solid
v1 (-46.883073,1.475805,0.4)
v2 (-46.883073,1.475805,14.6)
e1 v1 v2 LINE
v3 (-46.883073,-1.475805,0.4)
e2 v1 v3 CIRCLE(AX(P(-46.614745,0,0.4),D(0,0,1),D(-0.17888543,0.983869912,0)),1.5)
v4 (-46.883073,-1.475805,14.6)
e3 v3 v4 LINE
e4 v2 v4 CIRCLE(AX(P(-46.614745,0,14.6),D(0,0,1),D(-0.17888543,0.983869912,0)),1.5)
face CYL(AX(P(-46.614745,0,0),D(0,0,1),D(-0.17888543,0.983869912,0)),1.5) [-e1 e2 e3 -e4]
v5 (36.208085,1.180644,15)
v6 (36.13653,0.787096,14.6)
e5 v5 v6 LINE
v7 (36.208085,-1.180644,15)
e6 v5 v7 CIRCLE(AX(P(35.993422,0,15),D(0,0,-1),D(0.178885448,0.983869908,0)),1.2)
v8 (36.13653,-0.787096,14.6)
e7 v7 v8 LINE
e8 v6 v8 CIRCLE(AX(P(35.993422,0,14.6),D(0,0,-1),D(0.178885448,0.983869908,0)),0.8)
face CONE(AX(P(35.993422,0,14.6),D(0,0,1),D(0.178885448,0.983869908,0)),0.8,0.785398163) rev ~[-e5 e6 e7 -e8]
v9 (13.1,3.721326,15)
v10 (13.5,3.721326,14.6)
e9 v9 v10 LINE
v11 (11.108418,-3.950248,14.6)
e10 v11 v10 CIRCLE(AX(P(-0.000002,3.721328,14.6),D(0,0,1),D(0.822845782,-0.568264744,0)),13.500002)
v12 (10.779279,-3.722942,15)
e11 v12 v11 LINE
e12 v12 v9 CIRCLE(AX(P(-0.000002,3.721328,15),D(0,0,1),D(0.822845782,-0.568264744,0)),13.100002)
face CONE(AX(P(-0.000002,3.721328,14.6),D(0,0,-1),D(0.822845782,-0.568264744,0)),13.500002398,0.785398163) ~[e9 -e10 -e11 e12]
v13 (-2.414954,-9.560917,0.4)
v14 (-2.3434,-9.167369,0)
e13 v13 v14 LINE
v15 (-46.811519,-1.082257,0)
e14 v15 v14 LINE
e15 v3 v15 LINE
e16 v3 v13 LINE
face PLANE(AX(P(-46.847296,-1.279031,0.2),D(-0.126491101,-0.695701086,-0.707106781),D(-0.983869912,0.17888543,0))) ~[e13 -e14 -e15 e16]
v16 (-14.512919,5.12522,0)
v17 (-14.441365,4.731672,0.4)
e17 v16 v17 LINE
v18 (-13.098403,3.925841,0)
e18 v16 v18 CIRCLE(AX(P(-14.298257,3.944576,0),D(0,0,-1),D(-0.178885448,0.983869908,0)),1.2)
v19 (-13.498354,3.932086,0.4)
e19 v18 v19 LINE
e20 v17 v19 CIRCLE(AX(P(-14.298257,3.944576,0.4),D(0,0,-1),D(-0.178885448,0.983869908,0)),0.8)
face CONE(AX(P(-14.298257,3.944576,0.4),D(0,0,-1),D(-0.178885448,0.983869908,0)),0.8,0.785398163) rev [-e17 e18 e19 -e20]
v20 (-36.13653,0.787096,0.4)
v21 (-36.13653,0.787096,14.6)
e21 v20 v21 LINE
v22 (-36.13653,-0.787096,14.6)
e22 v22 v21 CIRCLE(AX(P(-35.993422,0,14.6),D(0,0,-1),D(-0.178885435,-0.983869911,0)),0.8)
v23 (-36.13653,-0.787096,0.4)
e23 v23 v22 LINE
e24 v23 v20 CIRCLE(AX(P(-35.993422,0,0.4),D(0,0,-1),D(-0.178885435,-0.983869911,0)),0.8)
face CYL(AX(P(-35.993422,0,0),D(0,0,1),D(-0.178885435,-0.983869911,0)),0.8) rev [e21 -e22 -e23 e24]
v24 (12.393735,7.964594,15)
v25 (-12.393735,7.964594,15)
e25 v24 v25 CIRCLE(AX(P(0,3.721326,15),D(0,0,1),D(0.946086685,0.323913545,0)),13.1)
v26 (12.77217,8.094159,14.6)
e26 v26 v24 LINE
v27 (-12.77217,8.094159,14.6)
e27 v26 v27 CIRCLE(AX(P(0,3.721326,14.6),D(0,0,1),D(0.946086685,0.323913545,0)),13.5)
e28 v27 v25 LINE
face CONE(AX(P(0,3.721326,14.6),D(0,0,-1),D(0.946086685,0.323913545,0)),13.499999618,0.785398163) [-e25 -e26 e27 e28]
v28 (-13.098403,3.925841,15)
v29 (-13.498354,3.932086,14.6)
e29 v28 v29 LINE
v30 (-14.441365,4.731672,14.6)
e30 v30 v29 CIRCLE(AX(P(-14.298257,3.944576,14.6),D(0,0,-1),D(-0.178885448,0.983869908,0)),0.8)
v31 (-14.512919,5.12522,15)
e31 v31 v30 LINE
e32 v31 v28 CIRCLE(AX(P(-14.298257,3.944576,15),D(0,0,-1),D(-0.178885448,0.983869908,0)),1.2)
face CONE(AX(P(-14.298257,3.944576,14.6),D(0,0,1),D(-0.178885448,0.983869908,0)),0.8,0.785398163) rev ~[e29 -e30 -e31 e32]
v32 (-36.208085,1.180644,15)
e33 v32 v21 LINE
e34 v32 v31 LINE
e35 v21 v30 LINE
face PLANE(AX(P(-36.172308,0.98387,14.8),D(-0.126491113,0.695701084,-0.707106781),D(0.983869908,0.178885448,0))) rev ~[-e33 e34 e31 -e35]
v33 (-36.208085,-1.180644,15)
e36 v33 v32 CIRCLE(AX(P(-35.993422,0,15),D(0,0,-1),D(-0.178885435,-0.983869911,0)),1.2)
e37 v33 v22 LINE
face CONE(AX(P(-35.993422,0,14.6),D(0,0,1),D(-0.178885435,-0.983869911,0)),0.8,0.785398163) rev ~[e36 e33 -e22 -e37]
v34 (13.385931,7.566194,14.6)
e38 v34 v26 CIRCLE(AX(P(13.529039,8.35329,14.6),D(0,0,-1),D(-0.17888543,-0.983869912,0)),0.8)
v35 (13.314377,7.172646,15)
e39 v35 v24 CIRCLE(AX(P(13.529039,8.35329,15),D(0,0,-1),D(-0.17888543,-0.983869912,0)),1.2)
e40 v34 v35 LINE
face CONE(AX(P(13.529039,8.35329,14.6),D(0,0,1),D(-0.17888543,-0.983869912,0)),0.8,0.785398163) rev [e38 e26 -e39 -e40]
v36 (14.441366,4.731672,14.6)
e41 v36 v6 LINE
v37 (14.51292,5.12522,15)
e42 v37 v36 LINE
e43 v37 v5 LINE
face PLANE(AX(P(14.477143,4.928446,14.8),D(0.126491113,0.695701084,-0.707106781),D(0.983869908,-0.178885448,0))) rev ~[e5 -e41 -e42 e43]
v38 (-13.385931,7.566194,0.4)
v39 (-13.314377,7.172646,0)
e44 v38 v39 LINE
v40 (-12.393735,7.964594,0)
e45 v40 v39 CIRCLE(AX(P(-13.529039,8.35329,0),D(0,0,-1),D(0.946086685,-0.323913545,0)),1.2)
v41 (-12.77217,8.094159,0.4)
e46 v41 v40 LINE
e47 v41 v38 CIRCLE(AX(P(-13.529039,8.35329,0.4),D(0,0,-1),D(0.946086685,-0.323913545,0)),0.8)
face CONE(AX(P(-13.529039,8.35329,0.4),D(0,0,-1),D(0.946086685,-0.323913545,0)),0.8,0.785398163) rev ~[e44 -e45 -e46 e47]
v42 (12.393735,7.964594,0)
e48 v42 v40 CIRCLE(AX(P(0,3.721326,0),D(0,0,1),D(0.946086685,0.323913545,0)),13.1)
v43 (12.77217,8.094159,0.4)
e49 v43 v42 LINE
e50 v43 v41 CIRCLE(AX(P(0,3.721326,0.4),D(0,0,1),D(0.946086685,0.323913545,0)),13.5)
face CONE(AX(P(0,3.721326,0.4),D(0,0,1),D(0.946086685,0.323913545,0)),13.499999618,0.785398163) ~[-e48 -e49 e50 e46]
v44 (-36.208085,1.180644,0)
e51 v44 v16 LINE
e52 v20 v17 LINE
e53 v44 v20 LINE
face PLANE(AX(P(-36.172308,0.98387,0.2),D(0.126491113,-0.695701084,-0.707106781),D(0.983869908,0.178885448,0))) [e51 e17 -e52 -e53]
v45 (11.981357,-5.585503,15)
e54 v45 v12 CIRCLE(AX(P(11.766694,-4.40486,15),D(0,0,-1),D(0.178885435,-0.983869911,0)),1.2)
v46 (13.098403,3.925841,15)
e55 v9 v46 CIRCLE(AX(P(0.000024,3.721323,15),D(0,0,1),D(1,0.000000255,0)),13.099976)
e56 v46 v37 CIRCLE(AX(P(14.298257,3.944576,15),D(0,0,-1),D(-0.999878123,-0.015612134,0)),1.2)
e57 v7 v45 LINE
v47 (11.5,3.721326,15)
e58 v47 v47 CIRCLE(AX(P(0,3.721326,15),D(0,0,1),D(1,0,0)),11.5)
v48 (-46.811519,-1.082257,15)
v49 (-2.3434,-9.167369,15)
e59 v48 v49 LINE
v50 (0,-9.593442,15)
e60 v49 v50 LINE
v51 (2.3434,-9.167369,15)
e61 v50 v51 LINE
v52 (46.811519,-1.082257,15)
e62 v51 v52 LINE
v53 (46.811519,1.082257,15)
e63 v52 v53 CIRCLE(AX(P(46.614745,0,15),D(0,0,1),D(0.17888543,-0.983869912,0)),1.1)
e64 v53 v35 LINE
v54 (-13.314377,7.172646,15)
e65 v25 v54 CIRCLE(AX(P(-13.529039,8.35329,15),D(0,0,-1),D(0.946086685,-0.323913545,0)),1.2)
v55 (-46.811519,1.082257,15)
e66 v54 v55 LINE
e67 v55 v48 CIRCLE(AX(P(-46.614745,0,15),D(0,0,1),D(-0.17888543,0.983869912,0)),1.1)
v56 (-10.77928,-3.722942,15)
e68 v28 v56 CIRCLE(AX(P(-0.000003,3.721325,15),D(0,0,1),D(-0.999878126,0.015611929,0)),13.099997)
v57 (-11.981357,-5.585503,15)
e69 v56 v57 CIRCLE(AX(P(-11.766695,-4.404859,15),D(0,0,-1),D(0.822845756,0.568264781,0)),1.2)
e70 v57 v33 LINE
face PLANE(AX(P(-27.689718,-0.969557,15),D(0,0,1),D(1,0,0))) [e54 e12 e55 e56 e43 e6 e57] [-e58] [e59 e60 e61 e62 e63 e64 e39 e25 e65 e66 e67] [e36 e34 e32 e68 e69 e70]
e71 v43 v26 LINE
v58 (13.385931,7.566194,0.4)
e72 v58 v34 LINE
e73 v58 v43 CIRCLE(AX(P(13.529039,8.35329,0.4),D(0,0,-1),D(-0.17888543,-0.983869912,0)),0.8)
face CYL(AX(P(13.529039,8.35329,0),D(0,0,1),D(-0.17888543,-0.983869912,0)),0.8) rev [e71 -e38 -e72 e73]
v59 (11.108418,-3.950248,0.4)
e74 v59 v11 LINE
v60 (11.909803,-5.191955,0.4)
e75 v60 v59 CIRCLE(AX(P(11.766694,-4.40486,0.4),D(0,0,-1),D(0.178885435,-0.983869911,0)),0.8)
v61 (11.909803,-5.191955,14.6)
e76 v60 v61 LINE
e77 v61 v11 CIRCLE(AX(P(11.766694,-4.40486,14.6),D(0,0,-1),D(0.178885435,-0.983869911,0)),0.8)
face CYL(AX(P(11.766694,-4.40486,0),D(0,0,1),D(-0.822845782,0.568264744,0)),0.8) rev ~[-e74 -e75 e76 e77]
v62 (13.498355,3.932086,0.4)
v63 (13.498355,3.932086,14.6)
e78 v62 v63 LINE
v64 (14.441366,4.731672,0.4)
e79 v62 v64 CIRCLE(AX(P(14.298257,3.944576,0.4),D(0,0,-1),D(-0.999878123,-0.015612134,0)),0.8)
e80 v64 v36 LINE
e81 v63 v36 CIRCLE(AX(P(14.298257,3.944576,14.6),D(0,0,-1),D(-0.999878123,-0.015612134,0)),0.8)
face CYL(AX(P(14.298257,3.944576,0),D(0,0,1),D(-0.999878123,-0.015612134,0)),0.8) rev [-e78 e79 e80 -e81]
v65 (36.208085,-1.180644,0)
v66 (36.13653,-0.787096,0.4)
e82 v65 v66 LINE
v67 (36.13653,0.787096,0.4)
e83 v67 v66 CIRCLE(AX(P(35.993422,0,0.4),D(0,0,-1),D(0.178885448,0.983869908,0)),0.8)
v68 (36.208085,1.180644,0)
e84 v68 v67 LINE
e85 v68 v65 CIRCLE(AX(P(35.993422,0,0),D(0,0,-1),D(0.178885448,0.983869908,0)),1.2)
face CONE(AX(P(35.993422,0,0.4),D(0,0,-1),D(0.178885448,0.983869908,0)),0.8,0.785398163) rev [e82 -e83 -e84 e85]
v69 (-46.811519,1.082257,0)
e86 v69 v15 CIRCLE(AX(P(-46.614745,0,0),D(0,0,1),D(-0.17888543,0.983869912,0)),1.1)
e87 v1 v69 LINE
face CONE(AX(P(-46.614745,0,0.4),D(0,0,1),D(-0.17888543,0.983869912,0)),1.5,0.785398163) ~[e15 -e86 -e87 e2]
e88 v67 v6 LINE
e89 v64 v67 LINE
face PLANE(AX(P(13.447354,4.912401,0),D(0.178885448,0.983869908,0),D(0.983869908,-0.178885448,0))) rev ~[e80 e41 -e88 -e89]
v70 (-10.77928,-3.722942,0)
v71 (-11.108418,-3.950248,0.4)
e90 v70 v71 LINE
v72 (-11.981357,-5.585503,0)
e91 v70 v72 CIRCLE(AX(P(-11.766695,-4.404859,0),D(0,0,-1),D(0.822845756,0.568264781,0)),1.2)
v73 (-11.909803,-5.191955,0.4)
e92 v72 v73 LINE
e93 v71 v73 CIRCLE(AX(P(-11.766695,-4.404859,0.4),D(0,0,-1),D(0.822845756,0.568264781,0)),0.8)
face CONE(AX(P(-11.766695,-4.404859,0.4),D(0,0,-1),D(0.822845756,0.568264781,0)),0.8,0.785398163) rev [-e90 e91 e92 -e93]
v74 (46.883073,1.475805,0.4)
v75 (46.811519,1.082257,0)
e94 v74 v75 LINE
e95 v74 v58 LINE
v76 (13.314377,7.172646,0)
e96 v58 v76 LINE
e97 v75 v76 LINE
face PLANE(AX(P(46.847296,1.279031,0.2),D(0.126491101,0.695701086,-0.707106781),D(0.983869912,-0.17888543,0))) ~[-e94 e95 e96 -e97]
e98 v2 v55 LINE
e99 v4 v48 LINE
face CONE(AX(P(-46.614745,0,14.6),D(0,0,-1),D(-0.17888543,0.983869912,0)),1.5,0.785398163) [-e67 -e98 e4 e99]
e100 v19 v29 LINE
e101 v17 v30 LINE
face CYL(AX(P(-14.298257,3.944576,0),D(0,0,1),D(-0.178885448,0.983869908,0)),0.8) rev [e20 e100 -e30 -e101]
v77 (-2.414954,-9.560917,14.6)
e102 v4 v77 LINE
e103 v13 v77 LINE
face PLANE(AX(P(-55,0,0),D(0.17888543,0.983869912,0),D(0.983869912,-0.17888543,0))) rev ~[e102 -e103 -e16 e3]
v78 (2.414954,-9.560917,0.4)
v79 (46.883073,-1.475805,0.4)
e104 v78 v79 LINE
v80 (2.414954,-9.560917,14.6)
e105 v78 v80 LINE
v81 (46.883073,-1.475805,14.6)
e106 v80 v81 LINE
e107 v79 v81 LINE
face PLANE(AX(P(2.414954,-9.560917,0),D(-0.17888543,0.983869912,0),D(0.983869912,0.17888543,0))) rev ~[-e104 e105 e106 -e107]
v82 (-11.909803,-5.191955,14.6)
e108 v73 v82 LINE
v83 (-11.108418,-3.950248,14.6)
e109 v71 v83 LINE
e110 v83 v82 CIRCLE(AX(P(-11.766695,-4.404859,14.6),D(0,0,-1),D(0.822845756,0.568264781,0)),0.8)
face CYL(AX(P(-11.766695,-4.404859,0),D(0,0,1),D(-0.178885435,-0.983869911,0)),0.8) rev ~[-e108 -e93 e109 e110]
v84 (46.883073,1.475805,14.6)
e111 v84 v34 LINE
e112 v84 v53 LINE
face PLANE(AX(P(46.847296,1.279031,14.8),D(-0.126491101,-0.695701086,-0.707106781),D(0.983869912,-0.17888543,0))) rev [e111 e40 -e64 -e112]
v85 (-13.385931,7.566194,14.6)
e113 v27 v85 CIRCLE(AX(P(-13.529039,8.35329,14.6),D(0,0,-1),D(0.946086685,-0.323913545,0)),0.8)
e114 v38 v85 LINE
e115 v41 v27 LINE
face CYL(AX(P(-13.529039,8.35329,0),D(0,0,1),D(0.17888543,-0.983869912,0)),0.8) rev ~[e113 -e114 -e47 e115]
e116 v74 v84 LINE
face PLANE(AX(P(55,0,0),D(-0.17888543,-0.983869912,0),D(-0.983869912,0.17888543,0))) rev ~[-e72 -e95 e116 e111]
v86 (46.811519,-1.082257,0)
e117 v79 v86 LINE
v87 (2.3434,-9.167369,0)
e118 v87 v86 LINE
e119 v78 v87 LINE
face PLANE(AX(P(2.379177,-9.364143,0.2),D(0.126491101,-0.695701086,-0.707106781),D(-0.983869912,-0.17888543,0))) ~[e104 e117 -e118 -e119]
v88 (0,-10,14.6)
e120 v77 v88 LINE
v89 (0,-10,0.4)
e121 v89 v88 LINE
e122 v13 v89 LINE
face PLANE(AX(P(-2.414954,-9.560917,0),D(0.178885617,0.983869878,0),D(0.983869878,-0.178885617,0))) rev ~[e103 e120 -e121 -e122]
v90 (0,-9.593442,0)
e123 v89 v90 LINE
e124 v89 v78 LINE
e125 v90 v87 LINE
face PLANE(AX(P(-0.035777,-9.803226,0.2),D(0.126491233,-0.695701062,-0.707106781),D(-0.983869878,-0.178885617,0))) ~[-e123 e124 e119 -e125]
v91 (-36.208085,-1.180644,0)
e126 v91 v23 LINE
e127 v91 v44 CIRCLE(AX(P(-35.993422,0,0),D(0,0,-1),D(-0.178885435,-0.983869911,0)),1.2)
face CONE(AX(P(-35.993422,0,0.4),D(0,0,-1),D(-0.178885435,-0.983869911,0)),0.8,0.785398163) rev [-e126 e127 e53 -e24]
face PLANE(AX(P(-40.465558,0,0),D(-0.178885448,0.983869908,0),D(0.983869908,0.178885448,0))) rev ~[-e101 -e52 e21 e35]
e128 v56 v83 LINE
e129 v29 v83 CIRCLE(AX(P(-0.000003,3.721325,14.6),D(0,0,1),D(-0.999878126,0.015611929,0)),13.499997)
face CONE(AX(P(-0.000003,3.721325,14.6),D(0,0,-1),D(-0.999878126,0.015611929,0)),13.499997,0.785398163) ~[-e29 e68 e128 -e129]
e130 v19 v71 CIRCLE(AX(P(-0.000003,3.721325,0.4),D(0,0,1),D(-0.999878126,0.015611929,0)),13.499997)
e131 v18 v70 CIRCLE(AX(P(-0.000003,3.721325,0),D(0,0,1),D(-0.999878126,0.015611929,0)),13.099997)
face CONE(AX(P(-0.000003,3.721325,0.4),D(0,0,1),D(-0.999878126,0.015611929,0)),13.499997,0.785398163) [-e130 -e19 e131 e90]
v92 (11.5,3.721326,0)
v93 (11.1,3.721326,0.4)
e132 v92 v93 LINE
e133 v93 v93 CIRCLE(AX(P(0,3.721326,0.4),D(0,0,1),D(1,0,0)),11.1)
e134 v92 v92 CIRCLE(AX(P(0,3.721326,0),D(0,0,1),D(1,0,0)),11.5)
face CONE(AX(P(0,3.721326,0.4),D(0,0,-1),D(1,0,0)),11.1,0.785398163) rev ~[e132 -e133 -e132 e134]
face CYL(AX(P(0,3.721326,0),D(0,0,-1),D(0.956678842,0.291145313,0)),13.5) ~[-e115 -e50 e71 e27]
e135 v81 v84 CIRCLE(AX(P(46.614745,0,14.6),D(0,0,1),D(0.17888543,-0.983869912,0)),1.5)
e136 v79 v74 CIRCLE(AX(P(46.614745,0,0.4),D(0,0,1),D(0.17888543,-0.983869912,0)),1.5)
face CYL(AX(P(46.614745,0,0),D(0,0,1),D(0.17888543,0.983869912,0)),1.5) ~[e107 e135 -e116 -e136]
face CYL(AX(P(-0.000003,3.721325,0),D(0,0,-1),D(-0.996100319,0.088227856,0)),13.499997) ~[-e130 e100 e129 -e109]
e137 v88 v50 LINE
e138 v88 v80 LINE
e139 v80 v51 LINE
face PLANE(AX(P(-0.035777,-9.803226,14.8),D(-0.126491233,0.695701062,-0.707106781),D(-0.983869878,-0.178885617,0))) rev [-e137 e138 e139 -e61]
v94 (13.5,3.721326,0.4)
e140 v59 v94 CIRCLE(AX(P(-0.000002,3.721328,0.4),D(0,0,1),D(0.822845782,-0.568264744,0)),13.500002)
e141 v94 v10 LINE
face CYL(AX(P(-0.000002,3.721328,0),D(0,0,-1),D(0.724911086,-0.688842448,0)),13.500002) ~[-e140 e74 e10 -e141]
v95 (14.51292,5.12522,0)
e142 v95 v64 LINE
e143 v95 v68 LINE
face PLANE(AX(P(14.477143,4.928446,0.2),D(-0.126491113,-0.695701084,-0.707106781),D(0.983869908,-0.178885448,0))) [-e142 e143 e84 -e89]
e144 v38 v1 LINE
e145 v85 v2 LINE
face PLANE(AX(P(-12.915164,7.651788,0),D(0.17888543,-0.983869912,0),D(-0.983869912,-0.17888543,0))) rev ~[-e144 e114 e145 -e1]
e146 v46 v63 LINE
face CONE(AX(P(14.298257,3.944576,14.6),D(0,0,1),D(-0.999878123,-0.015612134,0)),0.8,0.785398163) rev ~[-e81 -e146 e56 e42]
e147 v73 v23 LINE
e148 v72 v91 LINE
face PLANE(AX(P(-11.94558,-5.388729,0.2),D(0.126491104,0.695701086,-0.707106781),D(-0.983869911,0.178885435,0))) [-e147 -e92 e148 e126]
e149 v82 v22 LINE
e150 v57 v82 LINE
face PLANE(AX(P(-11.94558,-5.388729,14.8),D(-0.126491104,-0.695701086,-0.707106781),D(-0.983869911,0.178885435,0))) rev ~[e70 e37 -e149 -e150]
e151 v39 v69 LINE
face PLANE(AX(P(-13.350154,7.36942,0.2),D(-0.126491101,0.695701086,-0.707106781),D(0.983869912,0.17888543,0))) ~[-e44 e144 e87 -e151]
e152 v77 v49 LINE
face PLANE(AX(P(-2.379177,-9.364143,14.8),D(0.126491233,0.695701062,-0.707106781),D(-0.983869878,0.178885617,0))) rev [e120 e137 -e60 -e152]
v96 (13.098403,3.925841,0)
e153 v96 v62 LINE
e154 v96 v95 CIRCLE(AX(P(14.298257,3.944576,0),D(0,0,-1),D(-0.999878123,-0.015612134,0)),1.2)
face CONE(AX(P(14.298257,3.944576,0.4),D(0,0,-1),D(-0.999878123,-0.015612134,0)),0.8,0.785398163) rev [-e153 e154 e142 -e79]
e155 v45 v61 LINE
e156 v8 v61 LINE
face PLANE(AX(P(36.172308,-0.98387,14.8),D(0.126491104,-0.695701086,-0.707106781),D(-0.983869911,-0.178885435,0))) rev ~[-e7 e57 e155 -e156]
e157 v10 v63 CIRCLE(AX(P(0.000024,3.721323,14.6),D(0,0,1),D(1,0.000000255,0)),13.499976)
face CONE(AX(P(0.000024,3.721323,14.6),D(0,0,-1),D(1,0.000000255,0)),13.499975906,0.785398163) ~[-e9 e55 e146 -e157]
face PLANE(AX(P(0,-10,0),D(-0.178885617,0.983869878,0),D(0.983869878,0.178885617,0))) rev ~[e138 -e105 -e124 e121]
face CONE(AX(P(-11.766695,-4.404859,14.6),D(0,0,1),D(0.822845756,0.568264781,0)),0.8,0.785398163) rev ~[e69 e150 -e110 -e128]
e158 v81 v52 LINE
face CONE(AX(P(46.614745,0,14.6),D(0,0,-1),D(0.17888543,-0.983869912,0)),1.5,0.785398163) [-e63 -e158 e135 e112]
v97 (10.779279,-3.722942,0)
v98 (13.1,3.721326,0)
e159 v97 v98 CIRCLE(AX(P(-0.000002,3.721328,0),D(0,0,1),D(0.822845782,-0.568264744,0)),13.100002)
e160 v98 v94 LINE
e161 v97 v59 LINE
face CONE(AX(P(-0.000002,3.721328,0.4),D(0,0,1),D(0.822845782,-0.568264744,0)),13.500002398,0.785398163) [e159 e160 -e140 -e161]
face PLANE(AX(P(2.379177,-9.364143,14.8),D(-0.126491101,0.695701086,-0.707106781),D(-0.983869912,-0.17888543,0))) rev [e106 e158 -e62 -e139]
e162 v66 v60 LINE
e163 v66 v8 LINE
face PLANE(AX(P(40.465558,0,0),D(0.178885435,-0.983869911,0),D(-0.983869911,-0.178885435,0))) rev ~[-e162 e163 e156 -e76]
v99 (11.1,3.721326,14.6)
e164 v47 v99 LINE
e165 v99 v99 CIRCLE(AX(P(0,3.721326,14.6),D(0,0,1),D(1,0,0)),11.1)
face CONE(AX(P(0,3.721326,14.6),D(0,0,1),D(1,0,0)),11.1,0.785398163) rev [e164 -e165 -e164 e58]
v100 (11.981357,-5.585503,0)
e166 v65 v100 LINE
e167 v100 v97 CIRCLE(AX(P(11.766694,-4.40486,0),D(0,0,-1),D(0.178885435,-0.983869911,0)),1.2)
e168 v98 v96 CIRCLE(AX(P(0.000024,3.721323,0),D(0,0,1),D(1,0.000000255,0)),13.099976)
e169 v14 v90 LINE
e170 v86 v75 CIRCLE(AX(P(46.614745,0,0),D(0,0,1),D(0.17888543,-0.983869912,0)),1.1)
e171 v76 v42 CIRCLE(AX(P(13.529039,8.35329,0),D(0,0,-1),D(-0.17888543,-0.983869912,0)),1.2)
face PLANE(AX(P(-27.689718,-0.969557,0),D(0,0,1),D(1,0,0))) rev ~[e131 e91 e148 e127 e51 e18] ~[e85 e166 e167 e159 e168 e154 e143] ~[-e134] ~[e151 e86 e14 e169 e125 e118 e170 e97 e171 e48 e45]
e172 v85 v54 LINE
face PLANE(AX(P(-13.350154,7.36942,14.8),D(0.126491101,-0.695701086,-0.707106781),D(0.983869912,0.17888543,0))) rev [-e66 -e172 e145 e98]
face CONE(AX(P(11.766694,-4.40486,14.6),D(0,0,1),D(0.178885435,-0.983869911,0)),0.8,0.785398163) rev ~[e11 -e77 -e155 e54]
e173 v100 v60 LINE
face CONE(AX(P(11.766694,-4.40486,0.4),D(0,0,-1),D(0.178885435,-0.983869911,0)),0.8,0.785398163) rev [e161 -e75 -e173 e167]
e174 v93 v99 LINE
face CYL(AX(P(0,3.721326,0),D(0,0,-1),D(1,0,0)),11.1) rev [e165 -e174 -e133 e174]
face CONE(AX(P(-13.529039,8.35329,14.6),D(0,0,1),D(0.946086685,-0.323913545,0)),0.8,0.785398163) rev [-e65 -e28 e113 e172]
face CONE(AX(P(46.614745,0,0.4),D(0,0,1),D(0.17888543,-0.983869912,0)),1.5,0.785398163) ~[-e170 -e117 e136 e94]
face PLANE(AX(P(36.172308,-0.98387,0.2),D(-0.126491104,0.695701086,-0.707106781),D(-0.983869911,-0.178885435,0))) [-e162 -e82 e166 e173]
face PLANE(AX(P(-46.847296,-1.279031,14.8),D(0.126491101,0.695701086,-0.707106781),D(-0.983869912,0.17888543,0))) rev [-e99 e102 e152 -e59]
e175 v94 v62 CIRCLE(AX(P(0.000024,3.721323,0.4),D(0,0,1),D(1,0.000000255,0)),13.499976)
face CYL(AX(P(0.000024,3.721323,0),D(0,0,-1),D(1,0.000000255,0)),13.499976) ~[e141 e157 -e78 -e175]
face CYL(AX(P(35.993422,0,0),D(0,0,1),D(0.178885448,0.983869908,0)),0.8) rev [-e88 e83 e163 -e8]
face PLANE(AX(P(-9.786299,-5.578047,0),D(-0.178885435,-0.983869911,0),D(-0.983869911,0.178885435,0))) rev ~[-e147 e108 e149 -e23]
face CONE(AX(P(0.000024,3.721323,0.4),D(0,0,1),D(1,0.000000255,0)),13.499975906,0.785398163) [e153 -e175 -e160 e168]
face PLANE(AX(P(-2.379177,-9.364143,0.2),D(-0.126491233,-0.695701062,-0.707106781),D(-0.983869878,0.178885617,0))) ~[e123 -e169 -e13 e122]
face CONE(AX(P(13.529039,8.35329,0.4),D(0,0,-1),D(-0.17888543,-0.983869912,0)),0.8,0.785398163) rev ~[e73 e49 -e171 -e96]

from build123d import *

# Parameters (mm, degrees)
F0_R     = 11.1
F1_DEPTH = 15
F2_R     = 0.8
F3_R     = 1.5
F4_SIZE  = 0.4


with BuildPart() as f1:
    # F0 (on Top) → F1 (new body)
    with BuildSketch(Plane.XY):
        with BuildLine():
            Line((-12.915164, 7.651788), (-55, 0))
            Line((-55, 0), (-2.414954, -9.560917))
            ThreePointArc((-2.414954, -9.560917), (-6.417434, -8.155817), (-9.786299, -5.578047))
            Line((-9.786299, -5.578047), (-40.465558, 0))
            Line((-40.465558, 0), (-13.447354, 4.912401))
            ThreePointArc((-13.447354, 4.912401), (-13.252232, 6.295883), (-12.915164, 7.651788))
        make_face()
        with BuildLine():
            ThreePointArc((12.915164, 7.651788), (0, 17.221326), (-12.915164, 7.651788))
            ThreePointArc((-12.915164, 7.651788), (-13.252232, 6.295883), (-13.447354, 4.912401))
            ThreePointArc((-13.447354, 4.912401), (-12.746099, -0.726927), (-9.786299, -5.578047))
            ThreePointArc((-9.786299, -5.578047), (-6.417434, -8.155817), (-2.414954, -9.560917))
            ThreePointArc((-2.414954, -9.560917), (0, -9.778674), (2.414954, -9.560917))
            ThreePointArc((2.414954, -9.560917), (6.417434, -8.155817), (9.786299, -5.578047))
            ThreePointArc((9.786299, -5.578047), (12.537245, -1.285417), (13.5, 3.721326))
            ThreePointArc((13.5, 3.721326), (13.486832, 4.317445), (13.447354, 4.912401))
            ThreePointArc((13.447354, 4.912401), (13.252232, 6.295883), (12.915164, 7.651788))
        make_face()
        with Locations((0, 3.721326)):
            Circle(F0_R, mode=Mode.SUBTRACT)
        with BuildLine():
            ThreePointArc((2.414954, -9.560917), (0, -9.778674), (-2.414954, -9.560917))
            Line((-2.414954, -9.560917), (0, -10))
            Line((0, -10), (2.414954, -9.560917))
        make_face()
        with BuildLine():
            Line((55, 0), (12.915164, 7.651788))
            ThreePointArc((12.915164, 7.651788), (13.252232, 6.295883), (13.447354, 4.912401))
            Line((13.447354, 4.912401), (40.465558, 0))
            Line((40.465558, 0), (9.786299, -5.578047))
            ThreePointArc((9.786299, -5.578047), (6.417434, -8.155817), (2.414954, -9.560917))
            Line((2.414954, -9.560917), (55, 0))
        make_face()
    extrude(amount=F1_DEPTH)

    # F2
    f2_edges = [f1.edges().sort_by_distance(p)[0] for p in [
        (-40.465558, 0, 7.5),
        (40.465558, 0, 7.5),
        (-9.786299, -5.578047, 7.5),
        (9.786299, -5.578047, 7.5),
        (-13.447354, 4.912401, 7.5),
        (13.447354, 4.912401, 7.5),
        (12.915164, 7.651788, 7.5),
        (-12.915164, 7.651788, 7.5),
    ]]
    fillet(f2_edges, radius=F2_R)

    # F3
    f3_edges = [f1.edges().sort_by_distance(p)[0] for p in [
        (55, 0, 7.5),
        (-55, 0, 7.5),
    ]]
    fillet(f3_edges, radius=F3_R)

    # F4
    f4_edges = [f1.edges().sort_by_distance(p)[0] for p in [
        (-30.134502, 4.521, 15),
        (-48.114745, 0, 15),
        (-13.007334, 7.746806, 15),
        (-23.441537, -5.737902, 15),
        (0, 17.221326, 15),
        (23.441537, -5.737902, 15),
        (13.007334, 7.746806, 15),
        (48.114745, 0, 15),
        (30.134502, 4.521, 15),
        (-11.1, 3.721326, 15),
        (12.919215, -0.195801, 15),
        (13.78088, 4.554757, 15),
        (11.094527, -4.838669, 15),
        (25.288948, 2.759384, 15),
        (24.023167, -2.989526, 15),
        (36.793422, 0, 15),
        (-24.023167, -2.989526, 15),
        (-11.094527, -4.838669, 15),
        (-36.793422, 0, 15),
        (-12.919215, -0.195801, 15),
        (-25.288948, 2.759384, 15),
        (-13.78088, 4.554757, 15),
        (-30.134502, 4.521, 0),
        (-48.114745, 0, 0),
        (-13.007334, 7.746806, 0),
        (-23.441537, -5.737902, 0),
        (0, 17.221326, 0),
        (23.441537, -5.737902, 0),
        (13.007334, 7.746806, 0),
        (48.114745, 0, 0),
        (30.134502, 4.521, 0),
        (-11.1, 3.721326, 0),
        (12.919215, -0.195801, 0),
        (11.094527, -4.838669, 0),
        (13.78088, 4.554757, 0),
        (24.023167, -2.989526, 0),
        (25.288948, 2.759384, 0),
        (36.793422, 0, 0),
        (-24.023167, -2.989526, 0),
        (-11.094527, -4.838669, 0),
        (-36.793422, 0, 0),
        (-12.919215, -0.195801, 0),
        (-25.288948, 2.759384, 0),
        (-13.78088, 4.554757, 0),
    ]]
    chamfer(f4_edges, length=F4_SIZE)


solid = f1.part
